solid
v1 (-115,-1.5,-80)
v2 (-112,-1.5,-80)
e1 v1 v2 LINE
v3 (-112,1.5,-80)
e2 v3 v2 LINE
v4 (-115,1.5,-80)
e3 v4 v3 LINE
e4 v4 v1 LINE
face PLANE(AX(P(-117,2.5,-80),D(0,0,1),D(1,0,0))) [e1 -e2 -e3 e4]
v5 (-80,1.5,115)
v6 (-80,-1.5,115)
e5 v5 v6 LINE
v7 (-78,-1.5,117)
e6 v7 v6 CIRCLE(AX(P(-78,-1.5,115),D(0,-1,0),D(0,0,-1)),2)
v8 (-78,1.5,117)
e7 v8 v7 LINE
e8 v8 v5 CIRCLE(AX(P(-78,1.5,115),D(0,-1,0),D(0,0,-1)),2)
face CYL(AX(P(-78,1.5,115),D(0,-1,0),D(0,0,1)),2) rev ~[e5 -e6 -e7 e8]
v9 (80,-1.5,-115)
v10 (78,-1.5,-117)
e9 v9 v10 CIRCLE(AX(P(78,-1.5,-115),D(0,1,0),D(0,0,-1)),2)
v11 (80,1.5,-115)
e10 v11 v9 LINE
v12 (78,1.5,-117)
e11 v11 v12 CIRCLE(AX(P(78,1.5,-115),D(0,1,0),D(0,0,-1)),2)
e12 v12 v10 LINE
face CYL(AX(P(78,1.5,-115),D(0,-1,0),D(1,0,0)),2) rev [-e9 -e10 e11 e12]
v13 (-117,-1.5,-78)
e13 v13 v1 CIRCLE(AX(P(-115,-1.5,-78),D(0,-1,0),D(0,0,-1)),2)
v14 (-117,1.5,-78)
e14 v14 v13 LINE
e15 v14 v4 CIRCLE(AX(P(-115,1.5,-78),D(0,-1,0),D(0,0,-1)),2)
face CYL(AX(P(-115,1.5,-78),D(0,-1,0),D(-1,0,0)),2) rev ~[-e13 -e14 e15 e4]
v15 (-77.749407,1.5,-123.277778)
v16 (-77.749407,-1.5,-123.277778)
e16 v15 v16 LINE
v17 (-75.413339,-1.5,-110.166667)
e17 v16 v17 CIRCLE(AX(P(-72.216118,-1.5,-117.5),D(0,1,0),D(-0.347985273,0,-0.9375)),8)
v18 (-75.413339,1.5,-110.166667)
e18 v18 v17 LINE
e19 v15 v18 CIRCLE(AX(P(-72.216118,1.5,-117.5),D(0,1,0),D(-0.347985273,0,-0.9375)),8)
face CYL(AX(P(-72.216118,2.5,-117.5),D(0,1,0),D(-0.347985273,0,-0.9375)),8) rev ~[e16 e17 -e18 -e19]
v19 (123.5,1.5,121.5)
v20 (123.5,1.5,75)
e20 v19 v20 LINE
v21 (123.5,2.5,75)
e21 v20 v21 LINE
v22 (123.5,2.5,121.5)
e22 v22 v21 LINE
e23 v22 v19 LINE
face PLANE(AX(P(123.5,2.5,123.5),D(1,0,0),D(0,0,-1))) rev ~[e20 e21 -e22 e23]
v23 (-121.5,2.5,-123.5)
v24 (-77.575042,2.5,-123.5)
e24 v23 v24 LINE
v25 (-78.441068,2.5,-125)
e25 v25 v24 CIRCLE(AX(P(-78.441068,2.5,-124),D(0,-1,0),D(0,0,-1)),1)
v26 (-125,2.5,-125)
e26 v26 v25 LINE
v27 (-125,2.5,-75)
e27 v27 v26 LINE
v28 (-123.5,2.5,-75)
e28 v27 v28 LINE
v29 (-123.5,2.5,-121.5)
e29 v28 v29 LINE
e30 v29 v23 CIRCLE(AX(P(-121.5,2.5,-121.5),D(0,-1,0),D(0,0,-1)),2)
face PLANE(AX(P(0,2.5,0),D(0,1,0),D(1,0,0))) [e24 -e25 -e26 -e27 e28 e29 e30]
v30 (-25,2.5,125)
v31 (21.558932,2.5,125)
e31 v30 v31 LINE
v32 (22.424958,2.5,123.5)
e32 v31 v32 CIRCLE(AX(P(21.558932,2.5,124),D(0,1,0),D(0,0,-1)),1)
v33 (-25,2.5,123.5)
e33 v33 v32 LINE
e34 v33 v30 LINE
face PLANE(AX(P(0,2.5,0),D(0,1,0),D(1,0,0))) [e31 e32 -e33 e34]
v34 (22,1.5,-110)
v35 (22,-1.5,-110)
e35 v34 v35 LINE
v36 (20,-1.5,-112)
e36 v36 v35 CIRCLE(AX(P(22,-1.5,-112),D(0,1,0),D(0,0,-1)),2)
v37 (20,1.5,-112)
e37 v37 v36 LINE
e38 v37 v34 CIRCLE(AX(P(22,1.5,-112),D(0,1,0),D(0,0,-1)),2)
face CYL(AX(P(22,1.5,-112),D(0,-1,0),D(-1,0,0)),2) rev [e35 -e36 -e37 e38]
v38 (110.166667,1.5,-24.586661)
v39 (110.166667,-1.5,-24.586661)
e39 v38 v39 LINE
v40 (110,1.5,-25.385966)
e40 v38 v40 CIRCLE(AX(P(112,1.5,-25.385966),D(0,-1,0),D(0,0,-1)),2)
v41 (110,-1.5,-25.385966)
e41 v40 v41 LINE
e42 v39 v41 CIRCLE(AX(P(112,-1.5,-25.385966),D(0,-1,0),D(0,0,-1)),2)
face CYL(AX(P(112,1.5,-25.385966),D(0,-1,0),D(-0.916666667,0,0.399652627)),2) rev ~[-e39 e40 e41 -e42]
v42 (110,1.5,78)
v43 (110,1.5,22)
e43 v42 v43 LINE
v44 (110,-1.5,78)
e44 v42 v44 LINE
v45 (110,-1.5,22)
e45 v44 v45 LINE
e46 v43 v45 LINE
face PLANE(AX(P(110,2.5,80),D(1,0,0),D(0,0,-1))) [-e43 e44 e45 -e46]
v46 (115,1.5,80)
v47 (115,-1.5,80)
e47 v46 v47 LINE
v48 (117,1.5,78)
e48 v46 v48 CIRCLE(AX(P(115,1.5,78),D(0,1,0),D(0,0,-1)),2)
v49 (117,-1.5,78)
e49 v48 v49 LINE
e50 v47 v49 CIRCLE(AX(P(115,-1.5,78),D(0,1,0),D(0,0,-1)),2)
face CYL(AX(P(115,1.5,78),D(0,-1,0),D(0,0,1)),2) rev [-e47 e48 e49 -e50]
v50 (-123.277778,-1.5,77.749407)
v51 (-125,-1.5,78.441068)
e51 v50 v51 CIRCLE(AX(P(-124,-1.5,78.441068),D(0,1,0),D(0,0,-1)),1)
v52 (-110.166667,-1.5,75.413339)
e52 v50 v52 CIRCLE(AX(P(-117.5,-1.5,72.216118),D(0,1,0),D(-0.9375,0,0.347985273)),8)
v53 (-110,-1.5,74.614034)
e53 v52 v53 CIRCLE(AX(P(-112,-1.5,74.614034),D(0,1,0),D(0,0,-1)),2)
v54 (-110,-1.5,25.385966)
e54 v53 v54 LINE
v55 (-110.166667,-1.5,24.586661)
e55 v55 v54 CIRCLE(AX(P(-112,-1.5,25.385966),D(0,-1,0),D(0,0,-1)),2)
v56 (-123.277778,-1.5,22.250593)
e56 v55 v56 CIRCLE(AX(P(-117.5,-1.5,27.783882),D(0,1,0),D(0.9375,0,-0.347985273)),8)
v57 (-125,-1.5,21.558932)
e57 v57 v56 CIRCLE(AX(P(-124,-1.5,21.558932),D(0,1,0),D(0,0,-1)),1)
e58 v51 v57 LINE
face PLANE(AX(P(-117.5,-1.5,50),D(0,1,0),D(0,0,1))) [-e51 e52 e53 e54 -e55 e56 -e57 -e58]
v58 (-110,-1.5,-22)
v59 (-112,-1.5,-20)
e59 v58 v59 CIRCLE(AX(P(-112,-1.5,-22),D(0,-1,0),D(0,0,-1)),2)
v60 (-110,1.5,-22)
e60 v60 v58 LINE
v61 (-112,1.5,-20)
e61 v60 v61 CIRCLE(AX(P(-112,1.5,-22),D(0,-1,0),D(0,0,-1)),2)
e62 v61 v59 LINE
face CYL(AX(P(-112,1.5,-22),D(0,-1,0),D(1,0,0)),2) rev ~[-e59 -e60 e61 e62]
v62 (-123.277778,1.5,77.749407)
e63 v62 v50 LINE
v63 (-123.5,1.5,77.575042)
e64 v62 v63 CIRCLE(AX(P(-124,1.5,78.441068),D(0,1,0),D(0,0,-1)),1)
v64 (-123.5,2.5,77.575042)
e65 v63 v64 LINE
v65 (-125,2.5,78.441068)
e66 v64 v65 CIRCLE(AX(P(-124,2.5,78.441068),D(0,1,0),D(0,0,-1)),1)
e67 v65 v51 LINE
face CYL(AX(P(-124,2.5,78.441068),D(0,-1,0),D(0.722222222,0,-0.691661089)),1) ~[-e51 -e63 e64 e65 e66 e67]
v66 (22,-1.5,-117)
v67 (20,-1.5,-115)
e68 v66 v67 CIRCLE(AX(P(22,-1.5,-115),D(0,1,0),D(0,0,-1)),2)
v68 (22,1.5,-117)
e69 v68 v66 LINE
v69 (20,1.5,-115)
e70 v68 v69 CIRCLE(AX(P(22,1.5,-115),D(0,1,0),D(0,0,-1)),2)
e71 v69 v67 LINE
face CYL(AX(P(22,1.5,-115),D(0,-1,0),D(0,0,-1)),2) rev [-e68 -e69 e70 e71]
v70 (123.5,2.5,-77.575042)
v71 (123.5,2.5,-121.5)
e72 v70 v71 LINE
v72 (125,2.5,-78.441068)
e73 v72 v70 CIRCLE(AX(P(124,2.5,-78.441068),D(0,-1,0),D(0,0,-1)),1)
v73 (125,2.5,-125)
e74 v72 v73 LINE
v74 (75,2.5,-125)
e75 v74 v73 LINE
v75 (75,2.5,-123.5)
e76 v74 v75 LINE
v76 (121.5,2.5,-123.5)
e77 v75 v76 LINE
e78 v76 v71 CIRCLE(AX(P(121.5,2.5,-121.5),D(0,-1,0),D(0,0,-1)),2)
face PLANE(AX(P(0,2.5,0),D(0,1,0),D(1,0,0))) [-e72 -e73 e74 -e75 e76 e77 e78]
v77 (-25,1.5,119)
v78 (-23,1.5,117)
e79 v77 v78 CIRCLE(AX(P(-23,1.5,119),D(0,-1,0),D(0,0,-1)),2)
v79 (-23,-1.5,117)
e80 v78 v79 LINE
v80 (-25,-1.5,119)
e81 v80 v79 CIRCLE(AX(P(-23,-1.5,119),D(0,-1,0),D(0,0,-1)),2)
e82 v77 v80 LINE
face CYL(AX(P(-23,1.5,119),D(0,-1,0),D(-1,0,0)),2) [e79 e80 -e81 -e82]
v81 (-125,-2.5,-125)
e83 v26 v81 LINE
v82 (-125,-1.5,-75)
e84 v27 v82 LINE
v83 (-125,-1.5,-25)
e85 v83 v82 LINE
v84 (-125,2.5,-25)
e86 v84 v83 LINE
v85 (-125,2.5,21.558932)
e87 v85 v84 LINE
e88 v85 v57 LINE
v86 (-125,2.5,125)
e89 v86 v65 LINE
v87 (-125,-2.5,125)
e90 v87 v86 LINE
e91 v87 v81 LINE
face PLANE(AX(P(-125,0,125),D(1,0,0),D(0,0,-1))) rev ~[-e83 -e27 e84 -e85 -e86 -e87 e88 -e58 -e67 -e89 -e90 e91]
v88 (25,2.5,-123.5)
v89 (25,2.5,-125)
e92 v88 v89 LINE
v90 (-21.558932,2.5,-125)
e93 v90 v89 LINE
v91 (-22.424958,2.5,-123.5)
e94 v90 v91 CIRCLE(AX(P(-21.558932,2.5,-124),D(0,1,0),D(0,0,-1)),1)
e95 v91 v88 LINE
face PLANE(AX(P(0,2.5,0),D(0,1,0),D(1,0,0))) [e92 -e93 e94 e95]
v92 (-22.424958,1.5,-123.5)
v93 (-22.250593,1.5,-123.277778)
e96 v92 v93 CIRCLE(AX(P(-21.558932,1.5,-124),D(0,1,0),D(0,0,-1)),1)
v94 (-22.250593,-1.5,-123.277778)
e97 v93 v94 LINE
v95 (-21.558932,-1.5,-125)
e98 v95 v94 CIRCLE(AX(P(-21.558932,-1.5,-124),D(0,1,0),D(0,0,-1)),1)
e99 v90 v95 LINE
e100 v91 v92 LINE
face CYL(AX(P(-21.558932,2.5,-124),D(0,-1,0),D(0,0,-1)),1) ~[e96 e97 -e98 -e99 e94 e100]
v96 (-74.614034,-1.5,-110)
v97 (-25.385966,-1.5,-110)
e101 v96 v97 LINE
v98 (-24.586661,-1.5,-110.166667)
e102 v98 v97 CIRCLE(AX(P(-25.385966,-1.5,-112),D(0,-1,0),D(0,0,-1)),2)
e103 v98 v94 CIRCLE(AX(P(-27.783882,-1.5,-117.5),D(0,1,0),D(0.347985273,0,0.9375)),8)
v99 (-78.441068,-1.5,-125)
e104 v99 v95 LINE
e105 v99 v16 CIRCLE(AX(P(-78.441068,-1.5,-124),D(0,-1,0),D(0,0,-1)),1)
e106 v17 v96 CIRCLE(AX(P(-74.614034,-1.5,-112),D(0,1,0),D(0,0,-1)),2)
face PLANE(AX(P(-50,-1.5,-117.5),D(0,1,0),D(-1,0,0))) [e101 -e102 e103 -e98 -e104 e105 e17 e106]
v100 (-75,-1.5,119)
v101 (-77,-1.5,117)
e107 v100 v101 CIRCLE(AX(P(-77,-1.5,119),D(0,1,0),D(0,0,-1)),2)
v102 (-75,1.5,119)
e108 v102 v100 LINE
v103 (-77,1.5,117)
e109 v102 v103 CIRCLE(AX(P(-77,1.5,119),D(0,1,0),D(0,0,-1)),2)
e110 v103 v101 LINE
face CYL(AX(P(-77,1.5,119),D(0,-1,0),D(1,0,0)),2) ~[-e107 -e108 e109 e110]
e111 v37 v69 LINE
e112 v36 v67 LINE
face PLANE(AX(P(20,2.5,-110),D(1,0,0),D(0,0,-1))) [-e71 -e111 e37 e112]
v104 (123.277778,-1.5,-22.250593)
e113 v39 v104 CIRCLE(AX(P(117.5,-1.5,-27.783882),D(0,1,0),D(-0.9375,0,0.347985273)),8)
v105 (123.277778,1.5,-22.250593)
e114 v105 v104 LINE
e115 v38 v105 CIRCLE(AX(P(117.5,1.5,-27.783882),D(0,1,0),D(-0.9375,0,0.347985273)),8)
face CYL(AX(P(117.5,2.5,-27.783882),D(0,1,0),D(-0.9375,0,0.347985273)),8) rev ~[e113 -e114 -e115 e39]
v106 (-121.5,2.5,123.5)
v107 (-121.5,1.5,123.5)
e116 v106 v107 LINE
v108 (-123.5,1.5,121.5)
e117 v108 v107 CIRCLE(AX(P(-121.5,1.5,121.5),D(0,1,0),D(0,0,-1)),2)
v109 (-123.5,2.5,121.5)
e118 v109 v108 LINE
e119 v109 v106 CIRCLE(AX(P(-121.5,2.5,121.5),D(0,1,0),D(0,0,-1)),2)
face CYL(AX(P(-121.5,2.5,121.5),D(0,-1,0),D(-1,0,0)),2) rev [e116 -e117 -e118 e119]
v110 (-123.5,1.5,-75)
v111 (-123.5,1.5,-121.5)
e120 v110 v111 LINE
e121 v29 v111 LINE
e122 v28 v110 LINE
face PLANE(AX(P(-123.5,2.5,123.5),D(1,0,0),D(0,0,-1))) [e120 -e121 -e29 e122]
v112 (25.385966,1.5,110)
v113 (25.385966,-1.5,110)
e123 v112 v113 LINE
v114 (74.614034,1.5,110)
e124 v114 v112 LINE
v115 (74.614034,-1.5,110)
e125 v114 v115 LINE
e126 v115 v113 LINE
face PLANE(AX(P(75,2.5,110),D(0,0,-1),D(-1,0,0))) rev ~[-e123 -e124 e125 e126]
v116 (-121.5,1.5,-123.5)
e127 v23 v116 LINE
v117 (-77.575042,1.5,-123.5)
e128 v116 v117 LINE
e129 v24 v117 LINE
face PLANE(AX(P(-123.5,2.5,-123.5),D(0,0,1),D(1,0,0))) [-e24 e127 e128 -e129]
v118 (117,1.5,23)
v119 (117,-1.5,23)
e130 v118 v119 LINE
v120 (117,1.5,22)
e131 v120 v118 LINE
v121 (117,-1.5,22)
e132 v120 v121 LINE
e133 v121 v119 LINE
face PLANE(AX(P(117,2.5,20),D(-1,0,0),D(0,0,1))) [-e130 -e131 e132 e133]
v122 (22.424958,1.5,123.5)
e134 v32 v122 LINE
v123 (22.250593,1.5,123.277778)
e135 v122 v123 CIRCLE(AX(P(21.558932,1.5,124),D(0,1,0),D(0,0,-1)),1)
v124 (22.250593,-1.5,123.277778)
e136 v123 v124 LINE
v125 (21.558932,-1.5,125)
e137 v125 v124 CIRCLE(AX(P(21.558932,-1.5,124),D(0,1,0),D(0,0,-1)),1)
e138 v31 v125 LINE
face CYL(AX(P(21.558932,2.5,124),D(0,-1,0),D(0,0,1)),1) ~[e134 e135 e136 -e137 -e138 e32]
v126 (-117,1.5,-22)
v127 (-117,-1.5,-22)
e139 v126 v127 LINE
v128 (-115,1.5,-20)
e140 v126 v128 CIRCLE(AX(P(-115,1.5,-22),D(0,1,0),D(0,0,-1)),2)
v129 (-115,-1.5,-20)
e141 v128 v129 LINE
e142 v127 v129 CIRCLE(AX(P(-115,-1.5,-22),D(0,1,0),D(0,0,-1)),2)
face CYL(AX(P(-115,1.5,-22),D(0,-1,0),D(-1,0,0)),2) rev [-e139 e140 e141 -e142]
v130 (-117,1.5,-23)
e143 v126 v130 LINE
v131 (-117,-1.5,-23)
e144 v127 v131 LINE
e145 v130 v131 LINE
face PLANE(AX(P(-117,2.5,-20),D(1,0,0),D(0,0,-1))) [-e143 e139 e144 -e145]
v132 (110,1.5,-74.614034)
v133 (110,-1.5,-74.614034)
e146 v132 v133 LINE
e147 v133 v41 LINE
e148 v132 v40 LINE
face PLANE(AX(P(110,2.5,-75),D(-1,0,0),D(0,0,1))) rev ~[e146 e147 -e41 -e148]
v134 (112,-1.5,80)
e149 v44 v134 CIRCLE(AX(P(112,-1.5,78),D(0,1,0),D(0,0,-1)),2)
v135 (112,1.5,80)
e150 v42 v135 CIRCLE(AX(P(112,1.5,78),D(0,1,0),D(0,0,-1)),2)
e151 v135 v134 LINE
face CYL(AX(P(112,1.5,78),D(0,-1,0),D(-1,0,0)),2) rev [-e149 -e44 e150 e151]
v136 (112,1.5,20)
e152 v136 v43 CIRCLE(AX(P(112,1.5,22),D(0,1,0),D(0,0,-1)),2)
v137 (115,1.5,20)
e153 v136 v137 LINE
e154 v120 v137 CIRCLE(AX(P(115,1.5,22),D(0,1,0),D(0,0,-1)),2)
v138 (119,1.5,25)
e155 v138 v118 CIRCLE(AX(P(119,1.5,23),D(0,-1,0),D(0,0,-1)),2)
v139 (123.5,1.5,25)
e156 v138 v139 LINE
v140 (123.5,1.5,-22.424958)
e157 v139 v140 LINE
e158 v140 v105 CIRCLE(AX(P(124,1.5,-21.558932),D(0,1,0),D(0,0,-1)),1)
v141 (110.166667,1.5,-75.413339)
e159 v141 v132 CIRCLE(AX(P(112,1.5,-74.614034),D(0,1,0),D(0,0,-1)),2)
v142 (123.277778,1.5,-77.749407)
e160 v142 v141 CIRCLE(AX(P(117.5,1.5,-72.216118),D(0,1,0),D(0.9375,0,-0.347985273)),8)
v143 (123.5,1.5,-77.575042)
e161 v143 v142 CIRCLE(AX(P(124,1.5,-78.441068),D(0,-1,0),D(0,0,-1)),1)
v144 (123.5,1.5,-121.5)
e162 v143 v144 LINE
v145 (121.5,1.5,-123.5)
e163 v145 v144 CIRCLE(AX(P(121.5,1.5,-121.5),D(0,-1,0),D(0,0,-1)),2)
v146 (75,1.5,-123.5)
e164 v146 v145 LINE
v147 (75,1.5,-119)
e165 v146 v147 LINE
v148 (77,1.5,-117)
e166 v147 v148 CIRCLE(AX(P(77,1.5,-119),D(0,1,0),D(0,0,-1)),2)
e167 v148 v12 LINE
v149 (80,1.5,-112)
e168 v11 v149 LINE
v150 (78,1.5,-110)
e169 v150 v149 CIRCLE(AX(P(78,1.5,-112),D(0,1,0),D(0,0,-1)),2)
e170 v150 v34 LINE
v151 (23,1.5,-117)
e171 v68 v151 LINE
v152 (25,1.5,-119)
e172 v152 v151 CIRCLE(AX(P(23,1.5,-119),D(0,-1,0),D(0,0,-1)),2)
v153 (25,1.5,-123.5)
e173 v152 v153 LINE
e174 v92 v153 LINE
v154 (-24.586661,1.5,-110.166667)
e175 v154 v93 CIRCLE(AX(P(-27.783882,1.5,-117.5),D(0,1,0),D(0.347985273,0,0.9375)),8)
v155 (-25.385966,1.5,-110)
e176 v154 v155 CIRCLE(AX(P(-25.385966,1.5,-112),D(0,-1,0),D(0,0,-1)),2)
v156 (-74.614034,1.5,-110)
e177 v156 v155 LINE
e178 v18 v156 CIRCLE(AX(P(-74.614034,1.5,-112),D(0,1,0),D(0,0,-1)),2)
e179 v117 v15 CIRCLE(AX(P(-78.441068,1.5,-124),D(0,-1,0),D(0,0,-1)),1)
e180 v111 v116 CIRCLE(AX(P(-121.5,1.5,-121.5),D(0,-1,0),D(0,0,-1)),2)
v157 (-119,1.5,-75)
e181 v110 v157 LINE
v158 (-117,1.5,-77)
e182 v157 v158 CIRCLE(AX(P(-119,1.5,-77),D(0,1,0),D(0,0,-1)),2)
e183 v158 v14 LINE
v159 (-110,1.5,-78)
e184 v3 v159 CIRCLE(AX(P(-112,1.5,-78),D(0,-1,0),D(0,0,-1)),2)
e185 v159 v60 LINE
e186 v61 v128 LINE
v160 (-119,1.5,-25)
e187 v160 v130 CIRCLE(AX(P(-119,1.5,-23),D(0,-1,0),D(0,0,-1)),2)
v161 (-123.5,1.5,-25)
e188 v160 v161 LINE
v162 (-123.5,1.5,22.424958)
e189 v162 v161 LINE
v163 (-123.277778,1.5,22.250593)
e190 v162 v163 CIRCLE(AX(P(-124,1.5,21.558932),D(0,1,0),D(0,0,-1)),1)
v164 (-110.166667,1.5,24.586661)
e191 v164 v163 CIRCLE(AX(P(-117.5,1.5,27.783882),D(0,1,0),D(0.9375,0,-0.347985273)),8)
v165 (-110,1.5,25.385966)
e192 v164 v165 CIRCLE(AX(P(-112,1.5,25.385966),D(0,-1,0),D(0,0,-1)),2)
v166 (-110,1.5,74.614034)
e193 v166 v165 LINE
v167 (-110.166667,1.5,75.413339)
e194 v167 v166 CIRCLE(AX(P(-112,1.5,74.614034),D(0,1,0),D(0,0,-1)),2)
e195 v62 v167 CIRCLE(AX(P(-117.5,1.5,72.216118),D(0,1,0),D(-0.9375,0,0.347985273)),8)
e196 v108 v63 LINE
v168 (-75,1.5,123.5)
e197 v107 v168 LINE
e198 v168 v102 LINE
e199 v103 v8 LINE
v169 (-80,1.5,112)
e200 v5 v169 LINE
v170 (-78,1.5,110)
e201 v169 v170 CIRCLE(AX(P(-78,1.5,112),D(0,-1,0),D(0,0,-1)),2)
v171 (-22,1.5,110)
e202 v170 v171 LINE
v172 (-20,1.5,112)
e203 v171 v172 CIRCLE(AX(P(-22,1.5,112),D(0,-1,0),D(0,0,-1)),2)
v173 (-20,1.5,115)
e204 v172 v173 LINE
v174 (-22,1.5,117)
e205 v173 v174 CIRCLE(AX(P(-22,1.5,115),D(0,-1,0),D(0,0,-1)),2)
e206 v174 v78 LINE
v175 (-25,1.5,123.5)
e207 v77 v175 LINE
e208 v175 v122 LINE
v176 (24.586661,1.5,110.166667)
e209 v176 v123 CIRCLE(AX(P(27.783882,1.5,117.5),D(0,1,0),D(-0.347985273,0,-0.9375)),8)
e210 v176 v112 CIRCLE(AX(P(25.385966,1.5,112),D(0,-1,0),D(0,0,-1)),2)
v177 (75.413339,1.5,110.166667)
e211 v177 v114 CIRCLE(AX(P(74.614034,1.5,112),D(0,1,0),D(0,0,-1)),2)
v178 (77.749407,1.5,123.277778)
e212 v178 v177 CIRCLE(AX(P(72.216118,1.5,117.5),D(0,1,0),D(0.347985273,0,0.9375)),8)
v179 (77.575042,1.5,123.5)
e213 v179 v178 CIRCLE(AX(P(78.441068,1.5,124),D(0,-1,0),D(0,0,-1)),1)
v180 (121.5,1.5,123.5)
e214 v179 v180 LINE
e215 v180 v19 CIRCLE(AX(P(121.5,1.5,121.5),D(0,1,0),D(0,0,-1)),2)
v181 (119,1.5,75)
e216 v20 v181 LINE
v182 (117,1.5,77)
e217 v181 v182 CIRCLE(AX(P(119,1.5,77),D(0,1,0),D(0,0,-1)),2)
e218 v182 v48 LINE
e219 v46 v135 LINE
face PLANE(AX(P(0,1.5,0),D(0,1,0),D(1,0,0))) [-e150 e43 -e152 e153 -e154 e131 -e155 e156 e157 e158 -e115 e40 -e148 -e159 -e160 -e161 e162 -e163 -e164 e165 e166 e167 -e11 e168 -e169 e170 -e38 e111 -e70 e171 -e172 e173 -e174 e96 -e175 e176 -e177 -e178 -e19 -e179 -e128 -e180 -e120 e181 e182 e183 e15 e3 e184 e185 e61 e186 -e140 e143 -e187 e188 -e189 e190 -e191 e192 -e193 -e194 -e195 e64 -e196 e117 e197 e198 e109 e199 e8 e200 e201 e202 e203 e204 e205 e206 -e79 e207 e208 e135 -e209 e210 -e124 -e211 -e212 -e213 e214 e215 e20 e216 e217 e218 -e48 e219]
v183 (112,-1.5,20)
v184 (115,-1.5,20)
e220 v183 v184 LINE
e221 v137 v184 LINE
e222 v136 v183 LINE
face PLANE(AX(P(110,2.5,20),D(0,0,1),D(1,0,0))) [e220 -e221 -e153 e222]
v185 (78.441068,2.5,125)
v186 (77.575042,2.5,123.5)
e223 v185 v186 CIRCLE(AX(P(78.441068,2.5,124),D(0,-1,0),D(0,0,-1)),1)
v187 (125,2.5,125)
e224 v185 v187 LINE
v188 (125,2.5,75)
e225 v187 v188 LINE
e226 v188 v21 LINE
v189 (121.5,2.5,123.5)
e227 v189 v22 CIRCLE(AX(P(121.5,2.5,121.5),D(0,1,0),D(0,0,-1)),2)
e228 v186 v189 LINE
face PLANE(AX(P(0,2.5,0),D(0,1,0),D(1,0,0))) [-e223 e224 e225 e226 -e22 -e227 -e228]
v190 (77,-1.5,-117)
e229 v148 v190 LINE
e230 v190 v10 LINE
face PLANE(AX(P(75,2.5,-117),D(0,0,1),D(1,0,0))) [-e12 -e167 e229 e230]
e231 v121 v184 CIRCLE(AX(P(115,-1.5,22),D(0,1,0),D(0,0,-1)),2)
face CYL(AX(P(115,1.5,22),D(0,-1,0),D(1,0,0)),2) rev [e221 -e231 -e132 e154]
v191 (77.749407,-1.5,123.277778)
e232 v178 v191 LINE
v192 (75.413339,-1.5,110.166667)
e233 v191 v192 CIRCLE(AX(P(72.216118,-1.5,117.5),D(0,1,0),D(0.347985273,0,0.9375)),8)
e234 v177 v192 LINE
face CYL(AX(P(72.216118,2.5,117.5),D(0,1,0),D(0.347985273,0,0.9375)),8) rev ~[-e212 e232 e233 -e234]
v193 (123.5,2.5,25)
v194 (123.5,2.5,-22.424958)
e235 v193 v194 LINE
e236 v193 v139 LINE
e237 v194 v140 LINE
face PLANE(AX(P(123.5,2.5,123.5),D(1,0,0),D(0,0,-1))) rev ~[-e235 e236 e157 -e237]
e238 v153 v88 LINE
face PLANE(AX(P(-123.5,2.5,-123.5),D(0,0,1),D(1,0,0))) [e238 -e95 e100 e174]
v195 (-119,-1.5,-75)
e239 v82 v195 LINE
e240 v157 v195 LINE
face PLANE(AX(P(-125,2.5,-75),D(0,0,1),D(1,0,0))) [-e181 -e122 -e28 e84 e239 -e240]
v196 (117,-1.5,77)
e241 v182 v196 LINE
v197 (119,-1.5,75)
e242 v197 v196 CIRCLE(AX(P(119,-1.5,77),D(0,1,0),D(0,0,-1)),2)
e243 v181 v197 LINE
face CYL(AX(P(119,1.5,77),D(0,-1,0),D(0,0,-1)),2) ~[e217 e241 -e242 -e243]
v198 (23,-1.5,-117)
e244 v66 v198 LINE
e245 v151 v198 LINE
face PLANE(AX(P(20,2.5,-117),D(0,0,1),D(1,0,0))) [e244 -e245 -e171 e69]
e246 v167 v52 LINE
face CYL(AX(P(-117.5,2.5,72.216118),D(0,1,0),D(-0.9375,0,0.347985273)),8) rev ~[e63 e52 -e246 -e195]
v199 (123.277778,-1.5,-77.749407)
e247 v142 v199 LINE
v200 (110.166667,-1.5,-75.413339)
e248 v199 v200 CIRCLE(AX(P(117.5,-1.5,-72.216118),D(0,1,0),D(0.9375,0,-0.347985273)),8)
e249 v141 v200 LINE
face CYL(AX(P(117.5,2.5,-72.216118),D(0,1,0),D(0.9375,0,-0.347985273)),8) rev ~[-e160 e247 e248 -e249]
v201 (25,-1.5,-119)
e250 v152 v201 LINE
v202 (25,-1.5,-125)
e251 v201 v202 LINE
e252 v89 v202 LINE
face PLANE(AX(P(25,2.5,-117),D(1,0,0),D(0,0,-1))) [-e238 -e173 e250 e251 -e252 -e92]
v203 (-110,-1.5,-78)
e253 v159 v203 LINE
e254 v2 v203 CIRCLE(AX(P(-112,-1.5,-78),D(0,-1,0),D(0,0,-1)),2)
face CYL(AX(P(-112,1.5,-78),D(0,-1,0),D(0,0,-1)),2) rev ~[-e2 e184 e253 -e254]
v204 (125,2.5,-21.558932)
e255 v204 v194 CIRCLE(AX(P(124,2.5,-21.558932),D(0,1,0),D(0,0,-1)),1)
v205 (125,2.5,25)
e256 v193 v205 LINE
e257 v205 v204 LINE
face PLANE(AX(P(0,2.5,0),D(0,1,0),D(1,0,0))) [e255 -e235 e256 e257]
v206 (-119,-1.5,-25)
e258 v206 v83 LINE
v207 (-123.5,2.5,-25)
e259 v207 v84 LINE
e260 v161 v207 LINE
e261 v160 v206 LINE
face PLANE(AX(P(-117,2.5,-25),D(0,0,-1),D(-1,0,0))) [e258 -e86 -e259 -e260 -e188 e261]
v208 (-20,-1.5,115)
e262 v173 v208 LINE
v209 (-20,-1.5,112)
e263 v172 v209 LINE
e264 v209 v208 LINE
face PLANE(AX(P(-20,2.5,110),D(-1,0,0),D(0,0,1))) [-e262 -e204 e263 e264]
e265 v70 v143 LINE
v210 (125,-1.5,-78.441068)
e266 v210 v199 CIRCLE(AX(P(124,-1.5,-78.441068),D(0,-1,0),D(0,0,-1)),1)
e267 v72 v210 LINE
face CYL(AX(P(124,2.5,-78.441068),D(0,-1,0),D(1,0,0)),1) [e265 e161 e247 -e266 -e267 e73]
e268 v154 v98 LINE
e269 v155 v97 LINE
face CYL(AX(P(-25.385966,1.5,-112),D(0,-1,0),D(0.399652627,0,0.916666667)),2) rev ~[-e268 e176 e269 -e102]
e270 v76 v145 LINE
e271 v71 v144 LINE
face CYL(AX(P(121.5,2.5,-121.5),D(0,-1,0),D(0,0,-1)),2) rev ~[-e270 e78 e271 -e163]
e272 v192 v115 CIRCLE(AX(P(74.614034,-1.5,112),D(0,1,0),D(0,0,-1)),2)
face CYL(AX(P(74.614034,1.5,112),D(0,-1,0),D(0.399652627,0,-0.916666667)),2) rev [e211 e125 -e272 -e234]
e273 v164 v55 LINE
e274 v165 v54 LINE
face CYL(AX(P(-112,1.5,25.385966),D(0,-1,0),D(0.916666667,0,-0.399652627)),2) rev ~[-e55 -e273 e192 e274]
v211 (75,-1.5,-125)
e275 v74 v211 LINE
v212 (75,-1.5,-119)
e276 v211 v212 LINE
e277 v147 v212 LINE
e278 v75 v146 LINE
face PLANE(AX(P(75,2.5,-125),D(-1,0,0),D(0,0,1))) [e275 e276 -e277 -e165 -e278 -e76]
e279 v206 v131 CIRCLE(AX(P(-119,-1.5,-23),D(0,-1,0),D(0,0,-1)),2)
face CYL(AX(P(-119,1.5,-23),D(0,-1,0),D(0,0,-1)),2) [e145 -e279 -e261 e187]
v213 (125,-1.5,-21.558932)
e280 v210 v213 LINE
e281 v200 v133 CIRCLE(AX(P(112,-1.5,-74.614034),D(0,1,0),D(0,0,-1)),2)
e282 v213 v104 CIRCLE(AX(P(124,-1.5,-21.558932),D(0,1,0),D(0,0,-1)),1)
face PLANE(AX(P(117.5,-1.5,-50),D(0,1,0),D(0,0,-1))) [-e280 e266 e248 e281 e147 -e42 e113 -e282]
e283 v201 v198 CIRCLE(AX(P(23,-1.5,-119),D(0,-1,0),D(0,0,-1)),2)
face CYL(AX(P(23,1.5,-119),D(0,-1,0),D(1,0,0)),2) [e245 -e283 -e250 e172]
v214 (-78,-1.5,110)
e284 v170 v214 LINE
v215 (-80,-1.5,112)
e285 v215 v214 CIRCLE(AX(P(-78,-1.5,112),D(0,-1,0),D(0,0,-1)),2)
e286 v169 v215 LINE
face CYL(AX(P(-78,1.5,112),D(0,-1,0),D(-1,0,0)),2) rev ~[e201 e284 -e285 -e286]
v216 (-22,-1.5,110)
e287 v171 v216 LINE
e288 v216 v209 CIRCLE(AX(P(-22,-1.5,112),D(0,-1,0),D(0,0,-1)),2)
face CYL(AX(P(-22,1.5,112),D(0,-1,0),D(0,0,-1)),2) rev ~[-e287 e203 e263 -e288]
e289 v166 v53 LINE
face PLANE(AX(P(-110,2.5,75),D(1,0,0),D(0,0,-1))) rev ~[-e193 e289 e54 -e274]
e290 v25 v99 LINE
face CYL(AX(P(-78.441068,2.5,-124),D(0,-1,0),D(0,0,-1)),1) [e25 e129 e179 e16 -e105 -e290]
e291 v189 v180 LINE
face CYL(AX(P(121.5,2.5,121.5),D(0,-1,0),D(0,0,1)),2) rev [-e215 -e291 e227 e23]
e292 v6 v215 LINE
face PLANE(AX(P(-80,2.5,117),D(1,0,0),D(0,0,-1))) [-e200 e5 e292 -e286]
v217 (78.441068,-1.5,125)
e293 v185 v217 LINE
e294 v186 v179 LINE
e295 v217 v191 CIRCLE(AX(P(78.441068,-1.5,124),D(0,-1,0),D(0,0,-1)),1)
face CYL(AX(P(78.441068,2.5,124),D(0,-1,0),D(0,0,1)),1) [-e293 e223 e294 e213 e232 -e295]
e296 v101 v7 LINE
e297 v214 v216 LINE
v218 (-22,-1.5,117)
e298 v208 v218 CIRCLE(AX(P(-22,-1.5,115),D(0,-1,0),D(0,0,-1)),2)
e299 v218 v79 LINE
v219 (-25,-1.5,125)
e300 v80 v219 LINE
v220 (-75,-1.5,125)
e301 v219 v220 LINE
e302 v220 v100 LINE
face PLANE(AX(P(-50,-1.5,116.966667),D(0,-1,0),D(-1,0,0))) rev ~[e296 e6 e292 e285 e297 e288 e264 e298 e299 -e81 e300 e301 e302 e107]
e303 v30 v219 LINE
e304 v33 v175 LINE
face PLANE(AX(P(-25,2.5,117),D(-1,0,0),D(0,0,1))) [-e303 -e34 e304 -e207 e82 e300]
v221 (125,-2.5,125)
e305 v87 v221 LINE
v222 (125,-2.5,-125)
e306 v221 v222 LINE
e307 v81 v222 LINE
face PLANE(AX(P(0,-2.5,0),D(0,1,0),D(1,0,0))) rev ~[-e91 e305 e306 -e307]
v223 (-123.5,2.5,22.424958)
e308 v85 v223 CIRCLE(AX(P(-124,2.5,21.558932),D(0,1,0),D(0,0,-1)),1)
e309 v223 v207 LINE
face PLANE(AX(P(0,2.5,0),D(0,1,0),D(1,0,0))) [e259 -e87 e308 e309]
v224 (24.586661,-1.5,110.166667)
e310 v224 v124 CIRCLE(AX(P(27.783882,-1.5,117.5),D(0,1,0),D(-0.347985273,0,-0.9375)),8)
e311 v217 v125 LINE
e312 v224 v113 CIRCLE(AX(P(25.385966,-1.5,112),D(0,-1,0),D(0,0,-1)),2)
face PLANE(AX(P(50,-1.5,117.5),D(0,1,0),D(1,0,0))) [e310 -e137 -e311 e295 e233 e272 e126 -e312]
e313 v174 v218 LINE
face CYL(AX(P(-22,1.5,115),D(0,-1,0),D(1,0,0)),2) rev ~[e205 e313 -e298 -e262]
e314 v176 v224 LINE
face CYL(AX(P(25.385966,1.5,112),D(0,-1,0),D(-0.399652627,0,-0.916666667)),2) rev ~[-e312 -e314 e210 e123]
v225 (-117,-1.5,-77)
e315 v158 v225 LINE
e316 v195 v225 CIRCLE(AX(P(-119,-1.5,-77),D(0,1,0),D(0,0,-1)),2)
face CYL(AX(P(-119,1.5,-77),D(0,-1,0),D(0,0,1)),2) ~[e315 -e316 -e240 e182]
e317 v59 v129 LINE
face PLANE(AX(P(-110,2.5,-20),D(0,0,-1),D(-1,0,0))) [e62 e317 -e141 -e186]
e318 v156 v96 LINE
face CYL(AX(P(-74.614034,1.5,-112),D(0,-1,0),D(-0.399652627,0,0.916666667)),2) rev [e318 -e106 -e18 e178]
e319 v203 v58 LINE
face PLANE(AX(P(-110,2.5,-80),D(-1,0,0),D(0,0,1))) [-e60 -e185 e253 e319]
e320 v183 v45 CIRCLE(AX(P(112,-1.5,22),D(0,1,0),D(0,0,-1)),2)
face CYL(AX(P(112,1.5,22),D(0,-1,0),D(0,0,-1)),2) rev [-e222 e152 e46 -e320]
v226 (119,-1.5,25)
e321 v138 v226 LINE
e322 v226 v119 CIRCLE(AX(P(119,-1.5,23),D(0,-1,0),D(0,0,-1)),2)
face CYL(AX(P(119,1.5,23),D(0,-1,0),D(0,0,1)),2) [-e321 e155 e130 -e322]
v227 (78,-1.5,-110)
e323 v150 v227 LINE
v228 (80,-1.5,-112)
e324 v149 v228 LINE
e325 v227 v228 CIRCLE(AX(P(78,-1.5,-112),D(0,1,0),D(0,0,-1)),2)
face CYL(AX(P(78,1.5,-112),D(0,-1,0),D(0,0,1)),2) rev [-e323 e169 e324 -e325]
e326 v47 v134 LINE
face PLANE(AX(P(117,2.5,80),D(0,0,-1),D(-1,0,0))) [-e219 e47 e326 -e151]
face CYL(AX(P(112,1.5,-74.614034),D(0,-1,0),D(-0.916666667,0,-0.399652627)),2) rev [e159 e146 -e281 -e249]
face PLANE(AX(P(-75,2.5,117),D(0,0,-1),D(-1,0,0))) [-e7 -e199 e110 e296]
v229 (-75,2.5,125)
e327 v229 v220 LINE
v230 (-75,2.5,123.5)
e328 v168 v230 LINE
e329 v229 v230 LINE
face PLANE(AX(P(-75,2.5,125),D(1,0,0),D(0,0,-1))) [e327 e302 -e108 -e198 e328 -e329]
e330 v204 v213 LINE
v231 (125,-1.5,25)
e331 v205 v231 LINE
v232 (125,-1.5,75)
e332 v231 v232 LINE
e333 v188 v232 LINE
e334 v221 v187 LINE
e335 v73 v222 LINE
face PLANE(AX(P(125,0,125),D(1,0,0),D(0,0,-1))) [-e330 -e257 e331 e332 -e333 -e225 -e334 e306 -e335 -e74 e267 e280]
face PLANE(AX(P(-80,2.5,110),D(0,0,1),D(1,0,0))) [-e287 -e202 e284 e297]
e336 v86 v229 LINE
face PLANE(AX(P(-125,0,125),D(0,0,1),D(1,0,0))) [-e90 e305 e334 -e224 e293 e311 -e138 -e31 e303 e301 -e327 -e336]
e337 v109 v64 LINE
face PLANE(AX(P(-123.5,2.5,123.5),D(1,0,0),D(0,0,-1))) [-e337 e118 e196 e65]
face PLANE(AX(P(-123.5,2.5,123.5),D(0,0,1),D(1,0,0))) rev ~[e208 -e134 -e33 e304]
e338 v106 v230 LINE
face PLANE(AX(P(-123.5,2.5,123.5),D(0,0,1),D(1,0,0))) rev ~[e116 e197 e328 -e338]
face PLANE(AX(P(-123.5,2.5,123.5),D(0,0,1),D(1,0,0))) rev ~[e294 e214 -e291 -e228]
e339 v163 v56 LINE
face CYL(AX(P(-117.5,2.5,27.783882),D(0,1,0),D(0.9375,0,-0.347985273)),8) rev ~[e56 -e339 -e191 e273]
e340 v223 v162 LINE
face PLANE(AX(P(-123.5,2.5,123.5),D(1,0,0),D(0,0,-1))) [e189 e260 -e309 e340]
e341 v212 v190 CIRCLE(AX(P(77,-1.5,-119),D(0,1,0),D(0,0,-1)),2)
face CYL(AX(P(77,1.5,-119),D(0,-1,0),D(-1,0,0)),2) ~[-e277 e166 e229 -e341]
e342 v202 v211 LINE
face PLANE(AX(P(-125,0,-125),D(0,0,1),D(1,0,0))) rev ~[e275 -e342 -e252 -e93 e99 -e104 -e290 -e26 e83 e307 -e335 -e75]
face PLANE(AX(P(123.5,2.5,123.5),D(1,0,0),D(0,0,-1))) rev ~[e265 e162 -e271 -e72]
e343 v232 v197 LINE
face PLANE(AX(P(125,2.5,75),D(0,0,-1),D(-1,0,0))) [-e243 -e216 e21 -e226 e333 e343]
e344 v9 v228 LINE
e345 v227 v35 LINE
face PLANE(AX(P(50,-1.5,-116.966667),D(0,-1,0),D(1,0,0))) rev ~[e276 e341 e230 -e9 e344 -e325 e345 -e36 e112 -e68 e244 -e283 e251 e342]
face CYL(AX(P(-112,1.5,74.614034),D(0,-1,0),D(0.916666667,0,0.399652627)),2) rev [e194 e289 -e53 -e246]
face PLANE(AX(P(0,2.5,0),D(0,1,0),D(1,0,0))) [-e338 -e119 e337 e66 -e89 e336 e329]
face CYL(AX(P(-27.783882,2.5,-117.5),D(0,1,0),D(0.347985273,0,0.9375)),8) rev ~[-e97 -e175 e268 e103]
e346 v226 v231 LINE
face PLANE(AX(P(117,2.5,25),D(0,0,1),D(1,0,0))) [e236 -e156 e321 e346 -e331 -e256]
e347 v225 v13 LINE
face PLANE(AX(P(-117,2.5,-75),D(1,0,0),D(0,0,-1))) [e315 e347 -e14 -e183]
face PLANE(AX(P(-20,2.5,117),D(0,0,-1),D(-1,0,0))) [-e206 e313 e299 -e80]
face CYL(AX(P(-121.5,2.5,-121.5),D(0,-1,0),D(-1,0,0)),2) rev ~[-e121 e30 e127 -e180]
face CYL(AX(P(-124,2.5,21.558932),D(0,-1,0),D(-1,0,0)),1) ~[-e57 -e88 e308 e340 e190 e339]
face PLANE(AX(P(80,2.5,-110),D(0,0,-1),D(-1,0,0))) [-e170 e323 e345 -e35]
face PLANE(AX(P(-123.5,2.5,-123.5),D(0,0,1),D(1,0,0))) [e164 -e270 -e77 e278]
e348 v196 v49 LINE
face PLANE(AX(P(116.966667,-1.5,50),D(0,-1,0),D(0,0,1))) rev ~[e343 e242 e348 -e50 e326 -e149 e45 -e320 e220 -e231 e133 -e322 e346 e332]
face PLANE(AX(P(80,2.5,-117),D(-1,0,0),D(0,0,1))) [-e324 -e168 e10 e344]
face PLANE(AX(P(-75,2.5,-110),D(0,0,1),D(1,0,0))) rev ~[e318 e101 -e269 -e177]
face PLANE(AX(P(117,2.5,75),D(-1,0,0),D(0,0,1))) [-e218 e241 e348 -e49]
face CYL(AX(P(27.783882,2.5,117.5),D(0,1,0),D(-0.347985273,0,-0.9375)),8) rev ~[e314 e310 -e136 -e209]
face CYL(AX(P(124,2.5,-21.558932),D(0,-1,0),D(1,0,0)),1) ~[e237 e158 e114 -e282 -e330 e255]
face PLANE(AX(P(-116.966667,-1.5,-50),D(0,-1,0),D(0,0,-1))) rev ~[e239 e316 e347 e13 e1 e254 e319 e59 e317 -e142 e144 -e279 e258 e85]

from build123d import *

# Parameters (mm, degrees)
SKETCH1_W           = 250
SKETCH1_H           = 250
BOSS_EXTRUDE1_DEPTH = 2.5
SKETCH2_W           = 247
SKETCH2_H           = 247
CUT_EXTRUDE1_DEPTH  = 1
CUT_EXTRUDE4_DEPTH  = 4
CIRPATTERN1_COUNT   = 4
FILLET2_R           = 2
FILLET3_R           = 1


with BuildPart() as part:
    # Sketch1 → Boss-Extrude1 (new, symmetric)
    with BuildSketch(Plane(origin=(0, 0, 0), x_dir=(1, 0, 0), z_dir=(0, 1, 0))):
        Rectangle(SKETCH1_W, SKETCH1_H)
    extrude(amount=BOSS_EXTRUDE1_DEPTH, both=True)

    # Sketch2 → Cut-Extrude1 (cut)
    with BuildSketch(Plane(origin=(0, 2.5, 0), x_dir=(1, 0, 0), z_dir=(0, 1, 0))):
        Rectangle(SKETCH2_W, SKETCH2_H)
    extrude(amount=-CUT_EXTRUDE1_DEPTH, mode=Mode.SUBTRACT)

    # Sketch5 → Cut-Extrude4 (cut)
    with BuildSketch(Plane(origin=(0, 2.5, 0), x_dir=(1, 0, 0), z_dir=(0, 1, 0))):
        Polygon((-75, -125), (-75, -117), (-80, -117), (-80, -110), (-20, -110), (-20, -117), (-25, -117), (-25, -125), align=None)
        with BuildLine():
            Line((25, -125), (75, -125))
            ThreePointArc((75, -125), (80.216117819, -117.5), (75, -110))
            Line((75, -110), (25, -110))
            ThreePointArc((25, -110), (19.783882181, -117.5), (25, -125))
        make_face()
    cut_extrude4 = extrude(amount=-CUT_EXTRUDE4_DEPTH, mode=Mode.SUBTRACT)

    # CirPattern1: Cut-Extrude4 ×4 about axis
    cirpattern1_axis = Axis((0, -36.47073331, 0), (0, 1, 0))
    for i in range(1, CIRPATTERN1_COUNT):
        add(cut_extrude4.rotate(cirpattern1_axis, i * 360 / CIRPATTERN1_COUNT), mode=Mode.SUBTRACT)

    # Fillet2
    fillet2_edges = [part.edges().sort_by_distance(p)[0] for p in [
        (-117, 0, -25),
        (-117, 0, -20),
        (-110, 0, -20),
        (-110, 0, -80),
        (-117, 0, -80),
        (-123.5, 2, -123.5),
        (-75, 0, -110),
        (-25, 0, -110),
        (25, 0, -117),
        (20, 0, -117),
        (20, 0, -110),
        (80, 0, -110),
        (80, 0, -117),
        (75, 0, -117),
        (123.5, 2, -123.5),
        (110, 0, -75),
        (110, 0, -25),
        (117, 0, 25),
        (117, 0, 20),
        (110, 0, 20),
        (110, 0, 80),
        (117, 0, 80),
        (117, 0, 75),
        (123.5, 2, 123.5),
        (75, 0, 110),
        (25, 0, 110),
        (-25, 0, 117),
        (-20, 0, 117),
        (-20, 0, 110),
        (-80, 0, 110),
        (-80, 0, 117),
        (-75, 0, 117),
        (-123.5, 2, 123.5),
        (-110, 0, 75),
        (-110, 0, 25),
        (-117, 0, -75),
    ]]
    fillet(fillet2_edges, radius=FILLET2_R)

    # Fillet3
    fillet3_edges = [part.edges().sort_by_distance(p)[0] for p in [
        (-75, 0.5, -125),
        (-25, 0.5, -125),
        (125, 0.5, -25),
        (125, 0.5, -75),
        (25, 0.5, 125),
        (75, 0.5, 125),
        (-125, 0.5, 75),
        (-125, 0.5, 25),
    ]]
    fillet(fillet3_edges, radius=FILLET3_R)


solid = part.part
